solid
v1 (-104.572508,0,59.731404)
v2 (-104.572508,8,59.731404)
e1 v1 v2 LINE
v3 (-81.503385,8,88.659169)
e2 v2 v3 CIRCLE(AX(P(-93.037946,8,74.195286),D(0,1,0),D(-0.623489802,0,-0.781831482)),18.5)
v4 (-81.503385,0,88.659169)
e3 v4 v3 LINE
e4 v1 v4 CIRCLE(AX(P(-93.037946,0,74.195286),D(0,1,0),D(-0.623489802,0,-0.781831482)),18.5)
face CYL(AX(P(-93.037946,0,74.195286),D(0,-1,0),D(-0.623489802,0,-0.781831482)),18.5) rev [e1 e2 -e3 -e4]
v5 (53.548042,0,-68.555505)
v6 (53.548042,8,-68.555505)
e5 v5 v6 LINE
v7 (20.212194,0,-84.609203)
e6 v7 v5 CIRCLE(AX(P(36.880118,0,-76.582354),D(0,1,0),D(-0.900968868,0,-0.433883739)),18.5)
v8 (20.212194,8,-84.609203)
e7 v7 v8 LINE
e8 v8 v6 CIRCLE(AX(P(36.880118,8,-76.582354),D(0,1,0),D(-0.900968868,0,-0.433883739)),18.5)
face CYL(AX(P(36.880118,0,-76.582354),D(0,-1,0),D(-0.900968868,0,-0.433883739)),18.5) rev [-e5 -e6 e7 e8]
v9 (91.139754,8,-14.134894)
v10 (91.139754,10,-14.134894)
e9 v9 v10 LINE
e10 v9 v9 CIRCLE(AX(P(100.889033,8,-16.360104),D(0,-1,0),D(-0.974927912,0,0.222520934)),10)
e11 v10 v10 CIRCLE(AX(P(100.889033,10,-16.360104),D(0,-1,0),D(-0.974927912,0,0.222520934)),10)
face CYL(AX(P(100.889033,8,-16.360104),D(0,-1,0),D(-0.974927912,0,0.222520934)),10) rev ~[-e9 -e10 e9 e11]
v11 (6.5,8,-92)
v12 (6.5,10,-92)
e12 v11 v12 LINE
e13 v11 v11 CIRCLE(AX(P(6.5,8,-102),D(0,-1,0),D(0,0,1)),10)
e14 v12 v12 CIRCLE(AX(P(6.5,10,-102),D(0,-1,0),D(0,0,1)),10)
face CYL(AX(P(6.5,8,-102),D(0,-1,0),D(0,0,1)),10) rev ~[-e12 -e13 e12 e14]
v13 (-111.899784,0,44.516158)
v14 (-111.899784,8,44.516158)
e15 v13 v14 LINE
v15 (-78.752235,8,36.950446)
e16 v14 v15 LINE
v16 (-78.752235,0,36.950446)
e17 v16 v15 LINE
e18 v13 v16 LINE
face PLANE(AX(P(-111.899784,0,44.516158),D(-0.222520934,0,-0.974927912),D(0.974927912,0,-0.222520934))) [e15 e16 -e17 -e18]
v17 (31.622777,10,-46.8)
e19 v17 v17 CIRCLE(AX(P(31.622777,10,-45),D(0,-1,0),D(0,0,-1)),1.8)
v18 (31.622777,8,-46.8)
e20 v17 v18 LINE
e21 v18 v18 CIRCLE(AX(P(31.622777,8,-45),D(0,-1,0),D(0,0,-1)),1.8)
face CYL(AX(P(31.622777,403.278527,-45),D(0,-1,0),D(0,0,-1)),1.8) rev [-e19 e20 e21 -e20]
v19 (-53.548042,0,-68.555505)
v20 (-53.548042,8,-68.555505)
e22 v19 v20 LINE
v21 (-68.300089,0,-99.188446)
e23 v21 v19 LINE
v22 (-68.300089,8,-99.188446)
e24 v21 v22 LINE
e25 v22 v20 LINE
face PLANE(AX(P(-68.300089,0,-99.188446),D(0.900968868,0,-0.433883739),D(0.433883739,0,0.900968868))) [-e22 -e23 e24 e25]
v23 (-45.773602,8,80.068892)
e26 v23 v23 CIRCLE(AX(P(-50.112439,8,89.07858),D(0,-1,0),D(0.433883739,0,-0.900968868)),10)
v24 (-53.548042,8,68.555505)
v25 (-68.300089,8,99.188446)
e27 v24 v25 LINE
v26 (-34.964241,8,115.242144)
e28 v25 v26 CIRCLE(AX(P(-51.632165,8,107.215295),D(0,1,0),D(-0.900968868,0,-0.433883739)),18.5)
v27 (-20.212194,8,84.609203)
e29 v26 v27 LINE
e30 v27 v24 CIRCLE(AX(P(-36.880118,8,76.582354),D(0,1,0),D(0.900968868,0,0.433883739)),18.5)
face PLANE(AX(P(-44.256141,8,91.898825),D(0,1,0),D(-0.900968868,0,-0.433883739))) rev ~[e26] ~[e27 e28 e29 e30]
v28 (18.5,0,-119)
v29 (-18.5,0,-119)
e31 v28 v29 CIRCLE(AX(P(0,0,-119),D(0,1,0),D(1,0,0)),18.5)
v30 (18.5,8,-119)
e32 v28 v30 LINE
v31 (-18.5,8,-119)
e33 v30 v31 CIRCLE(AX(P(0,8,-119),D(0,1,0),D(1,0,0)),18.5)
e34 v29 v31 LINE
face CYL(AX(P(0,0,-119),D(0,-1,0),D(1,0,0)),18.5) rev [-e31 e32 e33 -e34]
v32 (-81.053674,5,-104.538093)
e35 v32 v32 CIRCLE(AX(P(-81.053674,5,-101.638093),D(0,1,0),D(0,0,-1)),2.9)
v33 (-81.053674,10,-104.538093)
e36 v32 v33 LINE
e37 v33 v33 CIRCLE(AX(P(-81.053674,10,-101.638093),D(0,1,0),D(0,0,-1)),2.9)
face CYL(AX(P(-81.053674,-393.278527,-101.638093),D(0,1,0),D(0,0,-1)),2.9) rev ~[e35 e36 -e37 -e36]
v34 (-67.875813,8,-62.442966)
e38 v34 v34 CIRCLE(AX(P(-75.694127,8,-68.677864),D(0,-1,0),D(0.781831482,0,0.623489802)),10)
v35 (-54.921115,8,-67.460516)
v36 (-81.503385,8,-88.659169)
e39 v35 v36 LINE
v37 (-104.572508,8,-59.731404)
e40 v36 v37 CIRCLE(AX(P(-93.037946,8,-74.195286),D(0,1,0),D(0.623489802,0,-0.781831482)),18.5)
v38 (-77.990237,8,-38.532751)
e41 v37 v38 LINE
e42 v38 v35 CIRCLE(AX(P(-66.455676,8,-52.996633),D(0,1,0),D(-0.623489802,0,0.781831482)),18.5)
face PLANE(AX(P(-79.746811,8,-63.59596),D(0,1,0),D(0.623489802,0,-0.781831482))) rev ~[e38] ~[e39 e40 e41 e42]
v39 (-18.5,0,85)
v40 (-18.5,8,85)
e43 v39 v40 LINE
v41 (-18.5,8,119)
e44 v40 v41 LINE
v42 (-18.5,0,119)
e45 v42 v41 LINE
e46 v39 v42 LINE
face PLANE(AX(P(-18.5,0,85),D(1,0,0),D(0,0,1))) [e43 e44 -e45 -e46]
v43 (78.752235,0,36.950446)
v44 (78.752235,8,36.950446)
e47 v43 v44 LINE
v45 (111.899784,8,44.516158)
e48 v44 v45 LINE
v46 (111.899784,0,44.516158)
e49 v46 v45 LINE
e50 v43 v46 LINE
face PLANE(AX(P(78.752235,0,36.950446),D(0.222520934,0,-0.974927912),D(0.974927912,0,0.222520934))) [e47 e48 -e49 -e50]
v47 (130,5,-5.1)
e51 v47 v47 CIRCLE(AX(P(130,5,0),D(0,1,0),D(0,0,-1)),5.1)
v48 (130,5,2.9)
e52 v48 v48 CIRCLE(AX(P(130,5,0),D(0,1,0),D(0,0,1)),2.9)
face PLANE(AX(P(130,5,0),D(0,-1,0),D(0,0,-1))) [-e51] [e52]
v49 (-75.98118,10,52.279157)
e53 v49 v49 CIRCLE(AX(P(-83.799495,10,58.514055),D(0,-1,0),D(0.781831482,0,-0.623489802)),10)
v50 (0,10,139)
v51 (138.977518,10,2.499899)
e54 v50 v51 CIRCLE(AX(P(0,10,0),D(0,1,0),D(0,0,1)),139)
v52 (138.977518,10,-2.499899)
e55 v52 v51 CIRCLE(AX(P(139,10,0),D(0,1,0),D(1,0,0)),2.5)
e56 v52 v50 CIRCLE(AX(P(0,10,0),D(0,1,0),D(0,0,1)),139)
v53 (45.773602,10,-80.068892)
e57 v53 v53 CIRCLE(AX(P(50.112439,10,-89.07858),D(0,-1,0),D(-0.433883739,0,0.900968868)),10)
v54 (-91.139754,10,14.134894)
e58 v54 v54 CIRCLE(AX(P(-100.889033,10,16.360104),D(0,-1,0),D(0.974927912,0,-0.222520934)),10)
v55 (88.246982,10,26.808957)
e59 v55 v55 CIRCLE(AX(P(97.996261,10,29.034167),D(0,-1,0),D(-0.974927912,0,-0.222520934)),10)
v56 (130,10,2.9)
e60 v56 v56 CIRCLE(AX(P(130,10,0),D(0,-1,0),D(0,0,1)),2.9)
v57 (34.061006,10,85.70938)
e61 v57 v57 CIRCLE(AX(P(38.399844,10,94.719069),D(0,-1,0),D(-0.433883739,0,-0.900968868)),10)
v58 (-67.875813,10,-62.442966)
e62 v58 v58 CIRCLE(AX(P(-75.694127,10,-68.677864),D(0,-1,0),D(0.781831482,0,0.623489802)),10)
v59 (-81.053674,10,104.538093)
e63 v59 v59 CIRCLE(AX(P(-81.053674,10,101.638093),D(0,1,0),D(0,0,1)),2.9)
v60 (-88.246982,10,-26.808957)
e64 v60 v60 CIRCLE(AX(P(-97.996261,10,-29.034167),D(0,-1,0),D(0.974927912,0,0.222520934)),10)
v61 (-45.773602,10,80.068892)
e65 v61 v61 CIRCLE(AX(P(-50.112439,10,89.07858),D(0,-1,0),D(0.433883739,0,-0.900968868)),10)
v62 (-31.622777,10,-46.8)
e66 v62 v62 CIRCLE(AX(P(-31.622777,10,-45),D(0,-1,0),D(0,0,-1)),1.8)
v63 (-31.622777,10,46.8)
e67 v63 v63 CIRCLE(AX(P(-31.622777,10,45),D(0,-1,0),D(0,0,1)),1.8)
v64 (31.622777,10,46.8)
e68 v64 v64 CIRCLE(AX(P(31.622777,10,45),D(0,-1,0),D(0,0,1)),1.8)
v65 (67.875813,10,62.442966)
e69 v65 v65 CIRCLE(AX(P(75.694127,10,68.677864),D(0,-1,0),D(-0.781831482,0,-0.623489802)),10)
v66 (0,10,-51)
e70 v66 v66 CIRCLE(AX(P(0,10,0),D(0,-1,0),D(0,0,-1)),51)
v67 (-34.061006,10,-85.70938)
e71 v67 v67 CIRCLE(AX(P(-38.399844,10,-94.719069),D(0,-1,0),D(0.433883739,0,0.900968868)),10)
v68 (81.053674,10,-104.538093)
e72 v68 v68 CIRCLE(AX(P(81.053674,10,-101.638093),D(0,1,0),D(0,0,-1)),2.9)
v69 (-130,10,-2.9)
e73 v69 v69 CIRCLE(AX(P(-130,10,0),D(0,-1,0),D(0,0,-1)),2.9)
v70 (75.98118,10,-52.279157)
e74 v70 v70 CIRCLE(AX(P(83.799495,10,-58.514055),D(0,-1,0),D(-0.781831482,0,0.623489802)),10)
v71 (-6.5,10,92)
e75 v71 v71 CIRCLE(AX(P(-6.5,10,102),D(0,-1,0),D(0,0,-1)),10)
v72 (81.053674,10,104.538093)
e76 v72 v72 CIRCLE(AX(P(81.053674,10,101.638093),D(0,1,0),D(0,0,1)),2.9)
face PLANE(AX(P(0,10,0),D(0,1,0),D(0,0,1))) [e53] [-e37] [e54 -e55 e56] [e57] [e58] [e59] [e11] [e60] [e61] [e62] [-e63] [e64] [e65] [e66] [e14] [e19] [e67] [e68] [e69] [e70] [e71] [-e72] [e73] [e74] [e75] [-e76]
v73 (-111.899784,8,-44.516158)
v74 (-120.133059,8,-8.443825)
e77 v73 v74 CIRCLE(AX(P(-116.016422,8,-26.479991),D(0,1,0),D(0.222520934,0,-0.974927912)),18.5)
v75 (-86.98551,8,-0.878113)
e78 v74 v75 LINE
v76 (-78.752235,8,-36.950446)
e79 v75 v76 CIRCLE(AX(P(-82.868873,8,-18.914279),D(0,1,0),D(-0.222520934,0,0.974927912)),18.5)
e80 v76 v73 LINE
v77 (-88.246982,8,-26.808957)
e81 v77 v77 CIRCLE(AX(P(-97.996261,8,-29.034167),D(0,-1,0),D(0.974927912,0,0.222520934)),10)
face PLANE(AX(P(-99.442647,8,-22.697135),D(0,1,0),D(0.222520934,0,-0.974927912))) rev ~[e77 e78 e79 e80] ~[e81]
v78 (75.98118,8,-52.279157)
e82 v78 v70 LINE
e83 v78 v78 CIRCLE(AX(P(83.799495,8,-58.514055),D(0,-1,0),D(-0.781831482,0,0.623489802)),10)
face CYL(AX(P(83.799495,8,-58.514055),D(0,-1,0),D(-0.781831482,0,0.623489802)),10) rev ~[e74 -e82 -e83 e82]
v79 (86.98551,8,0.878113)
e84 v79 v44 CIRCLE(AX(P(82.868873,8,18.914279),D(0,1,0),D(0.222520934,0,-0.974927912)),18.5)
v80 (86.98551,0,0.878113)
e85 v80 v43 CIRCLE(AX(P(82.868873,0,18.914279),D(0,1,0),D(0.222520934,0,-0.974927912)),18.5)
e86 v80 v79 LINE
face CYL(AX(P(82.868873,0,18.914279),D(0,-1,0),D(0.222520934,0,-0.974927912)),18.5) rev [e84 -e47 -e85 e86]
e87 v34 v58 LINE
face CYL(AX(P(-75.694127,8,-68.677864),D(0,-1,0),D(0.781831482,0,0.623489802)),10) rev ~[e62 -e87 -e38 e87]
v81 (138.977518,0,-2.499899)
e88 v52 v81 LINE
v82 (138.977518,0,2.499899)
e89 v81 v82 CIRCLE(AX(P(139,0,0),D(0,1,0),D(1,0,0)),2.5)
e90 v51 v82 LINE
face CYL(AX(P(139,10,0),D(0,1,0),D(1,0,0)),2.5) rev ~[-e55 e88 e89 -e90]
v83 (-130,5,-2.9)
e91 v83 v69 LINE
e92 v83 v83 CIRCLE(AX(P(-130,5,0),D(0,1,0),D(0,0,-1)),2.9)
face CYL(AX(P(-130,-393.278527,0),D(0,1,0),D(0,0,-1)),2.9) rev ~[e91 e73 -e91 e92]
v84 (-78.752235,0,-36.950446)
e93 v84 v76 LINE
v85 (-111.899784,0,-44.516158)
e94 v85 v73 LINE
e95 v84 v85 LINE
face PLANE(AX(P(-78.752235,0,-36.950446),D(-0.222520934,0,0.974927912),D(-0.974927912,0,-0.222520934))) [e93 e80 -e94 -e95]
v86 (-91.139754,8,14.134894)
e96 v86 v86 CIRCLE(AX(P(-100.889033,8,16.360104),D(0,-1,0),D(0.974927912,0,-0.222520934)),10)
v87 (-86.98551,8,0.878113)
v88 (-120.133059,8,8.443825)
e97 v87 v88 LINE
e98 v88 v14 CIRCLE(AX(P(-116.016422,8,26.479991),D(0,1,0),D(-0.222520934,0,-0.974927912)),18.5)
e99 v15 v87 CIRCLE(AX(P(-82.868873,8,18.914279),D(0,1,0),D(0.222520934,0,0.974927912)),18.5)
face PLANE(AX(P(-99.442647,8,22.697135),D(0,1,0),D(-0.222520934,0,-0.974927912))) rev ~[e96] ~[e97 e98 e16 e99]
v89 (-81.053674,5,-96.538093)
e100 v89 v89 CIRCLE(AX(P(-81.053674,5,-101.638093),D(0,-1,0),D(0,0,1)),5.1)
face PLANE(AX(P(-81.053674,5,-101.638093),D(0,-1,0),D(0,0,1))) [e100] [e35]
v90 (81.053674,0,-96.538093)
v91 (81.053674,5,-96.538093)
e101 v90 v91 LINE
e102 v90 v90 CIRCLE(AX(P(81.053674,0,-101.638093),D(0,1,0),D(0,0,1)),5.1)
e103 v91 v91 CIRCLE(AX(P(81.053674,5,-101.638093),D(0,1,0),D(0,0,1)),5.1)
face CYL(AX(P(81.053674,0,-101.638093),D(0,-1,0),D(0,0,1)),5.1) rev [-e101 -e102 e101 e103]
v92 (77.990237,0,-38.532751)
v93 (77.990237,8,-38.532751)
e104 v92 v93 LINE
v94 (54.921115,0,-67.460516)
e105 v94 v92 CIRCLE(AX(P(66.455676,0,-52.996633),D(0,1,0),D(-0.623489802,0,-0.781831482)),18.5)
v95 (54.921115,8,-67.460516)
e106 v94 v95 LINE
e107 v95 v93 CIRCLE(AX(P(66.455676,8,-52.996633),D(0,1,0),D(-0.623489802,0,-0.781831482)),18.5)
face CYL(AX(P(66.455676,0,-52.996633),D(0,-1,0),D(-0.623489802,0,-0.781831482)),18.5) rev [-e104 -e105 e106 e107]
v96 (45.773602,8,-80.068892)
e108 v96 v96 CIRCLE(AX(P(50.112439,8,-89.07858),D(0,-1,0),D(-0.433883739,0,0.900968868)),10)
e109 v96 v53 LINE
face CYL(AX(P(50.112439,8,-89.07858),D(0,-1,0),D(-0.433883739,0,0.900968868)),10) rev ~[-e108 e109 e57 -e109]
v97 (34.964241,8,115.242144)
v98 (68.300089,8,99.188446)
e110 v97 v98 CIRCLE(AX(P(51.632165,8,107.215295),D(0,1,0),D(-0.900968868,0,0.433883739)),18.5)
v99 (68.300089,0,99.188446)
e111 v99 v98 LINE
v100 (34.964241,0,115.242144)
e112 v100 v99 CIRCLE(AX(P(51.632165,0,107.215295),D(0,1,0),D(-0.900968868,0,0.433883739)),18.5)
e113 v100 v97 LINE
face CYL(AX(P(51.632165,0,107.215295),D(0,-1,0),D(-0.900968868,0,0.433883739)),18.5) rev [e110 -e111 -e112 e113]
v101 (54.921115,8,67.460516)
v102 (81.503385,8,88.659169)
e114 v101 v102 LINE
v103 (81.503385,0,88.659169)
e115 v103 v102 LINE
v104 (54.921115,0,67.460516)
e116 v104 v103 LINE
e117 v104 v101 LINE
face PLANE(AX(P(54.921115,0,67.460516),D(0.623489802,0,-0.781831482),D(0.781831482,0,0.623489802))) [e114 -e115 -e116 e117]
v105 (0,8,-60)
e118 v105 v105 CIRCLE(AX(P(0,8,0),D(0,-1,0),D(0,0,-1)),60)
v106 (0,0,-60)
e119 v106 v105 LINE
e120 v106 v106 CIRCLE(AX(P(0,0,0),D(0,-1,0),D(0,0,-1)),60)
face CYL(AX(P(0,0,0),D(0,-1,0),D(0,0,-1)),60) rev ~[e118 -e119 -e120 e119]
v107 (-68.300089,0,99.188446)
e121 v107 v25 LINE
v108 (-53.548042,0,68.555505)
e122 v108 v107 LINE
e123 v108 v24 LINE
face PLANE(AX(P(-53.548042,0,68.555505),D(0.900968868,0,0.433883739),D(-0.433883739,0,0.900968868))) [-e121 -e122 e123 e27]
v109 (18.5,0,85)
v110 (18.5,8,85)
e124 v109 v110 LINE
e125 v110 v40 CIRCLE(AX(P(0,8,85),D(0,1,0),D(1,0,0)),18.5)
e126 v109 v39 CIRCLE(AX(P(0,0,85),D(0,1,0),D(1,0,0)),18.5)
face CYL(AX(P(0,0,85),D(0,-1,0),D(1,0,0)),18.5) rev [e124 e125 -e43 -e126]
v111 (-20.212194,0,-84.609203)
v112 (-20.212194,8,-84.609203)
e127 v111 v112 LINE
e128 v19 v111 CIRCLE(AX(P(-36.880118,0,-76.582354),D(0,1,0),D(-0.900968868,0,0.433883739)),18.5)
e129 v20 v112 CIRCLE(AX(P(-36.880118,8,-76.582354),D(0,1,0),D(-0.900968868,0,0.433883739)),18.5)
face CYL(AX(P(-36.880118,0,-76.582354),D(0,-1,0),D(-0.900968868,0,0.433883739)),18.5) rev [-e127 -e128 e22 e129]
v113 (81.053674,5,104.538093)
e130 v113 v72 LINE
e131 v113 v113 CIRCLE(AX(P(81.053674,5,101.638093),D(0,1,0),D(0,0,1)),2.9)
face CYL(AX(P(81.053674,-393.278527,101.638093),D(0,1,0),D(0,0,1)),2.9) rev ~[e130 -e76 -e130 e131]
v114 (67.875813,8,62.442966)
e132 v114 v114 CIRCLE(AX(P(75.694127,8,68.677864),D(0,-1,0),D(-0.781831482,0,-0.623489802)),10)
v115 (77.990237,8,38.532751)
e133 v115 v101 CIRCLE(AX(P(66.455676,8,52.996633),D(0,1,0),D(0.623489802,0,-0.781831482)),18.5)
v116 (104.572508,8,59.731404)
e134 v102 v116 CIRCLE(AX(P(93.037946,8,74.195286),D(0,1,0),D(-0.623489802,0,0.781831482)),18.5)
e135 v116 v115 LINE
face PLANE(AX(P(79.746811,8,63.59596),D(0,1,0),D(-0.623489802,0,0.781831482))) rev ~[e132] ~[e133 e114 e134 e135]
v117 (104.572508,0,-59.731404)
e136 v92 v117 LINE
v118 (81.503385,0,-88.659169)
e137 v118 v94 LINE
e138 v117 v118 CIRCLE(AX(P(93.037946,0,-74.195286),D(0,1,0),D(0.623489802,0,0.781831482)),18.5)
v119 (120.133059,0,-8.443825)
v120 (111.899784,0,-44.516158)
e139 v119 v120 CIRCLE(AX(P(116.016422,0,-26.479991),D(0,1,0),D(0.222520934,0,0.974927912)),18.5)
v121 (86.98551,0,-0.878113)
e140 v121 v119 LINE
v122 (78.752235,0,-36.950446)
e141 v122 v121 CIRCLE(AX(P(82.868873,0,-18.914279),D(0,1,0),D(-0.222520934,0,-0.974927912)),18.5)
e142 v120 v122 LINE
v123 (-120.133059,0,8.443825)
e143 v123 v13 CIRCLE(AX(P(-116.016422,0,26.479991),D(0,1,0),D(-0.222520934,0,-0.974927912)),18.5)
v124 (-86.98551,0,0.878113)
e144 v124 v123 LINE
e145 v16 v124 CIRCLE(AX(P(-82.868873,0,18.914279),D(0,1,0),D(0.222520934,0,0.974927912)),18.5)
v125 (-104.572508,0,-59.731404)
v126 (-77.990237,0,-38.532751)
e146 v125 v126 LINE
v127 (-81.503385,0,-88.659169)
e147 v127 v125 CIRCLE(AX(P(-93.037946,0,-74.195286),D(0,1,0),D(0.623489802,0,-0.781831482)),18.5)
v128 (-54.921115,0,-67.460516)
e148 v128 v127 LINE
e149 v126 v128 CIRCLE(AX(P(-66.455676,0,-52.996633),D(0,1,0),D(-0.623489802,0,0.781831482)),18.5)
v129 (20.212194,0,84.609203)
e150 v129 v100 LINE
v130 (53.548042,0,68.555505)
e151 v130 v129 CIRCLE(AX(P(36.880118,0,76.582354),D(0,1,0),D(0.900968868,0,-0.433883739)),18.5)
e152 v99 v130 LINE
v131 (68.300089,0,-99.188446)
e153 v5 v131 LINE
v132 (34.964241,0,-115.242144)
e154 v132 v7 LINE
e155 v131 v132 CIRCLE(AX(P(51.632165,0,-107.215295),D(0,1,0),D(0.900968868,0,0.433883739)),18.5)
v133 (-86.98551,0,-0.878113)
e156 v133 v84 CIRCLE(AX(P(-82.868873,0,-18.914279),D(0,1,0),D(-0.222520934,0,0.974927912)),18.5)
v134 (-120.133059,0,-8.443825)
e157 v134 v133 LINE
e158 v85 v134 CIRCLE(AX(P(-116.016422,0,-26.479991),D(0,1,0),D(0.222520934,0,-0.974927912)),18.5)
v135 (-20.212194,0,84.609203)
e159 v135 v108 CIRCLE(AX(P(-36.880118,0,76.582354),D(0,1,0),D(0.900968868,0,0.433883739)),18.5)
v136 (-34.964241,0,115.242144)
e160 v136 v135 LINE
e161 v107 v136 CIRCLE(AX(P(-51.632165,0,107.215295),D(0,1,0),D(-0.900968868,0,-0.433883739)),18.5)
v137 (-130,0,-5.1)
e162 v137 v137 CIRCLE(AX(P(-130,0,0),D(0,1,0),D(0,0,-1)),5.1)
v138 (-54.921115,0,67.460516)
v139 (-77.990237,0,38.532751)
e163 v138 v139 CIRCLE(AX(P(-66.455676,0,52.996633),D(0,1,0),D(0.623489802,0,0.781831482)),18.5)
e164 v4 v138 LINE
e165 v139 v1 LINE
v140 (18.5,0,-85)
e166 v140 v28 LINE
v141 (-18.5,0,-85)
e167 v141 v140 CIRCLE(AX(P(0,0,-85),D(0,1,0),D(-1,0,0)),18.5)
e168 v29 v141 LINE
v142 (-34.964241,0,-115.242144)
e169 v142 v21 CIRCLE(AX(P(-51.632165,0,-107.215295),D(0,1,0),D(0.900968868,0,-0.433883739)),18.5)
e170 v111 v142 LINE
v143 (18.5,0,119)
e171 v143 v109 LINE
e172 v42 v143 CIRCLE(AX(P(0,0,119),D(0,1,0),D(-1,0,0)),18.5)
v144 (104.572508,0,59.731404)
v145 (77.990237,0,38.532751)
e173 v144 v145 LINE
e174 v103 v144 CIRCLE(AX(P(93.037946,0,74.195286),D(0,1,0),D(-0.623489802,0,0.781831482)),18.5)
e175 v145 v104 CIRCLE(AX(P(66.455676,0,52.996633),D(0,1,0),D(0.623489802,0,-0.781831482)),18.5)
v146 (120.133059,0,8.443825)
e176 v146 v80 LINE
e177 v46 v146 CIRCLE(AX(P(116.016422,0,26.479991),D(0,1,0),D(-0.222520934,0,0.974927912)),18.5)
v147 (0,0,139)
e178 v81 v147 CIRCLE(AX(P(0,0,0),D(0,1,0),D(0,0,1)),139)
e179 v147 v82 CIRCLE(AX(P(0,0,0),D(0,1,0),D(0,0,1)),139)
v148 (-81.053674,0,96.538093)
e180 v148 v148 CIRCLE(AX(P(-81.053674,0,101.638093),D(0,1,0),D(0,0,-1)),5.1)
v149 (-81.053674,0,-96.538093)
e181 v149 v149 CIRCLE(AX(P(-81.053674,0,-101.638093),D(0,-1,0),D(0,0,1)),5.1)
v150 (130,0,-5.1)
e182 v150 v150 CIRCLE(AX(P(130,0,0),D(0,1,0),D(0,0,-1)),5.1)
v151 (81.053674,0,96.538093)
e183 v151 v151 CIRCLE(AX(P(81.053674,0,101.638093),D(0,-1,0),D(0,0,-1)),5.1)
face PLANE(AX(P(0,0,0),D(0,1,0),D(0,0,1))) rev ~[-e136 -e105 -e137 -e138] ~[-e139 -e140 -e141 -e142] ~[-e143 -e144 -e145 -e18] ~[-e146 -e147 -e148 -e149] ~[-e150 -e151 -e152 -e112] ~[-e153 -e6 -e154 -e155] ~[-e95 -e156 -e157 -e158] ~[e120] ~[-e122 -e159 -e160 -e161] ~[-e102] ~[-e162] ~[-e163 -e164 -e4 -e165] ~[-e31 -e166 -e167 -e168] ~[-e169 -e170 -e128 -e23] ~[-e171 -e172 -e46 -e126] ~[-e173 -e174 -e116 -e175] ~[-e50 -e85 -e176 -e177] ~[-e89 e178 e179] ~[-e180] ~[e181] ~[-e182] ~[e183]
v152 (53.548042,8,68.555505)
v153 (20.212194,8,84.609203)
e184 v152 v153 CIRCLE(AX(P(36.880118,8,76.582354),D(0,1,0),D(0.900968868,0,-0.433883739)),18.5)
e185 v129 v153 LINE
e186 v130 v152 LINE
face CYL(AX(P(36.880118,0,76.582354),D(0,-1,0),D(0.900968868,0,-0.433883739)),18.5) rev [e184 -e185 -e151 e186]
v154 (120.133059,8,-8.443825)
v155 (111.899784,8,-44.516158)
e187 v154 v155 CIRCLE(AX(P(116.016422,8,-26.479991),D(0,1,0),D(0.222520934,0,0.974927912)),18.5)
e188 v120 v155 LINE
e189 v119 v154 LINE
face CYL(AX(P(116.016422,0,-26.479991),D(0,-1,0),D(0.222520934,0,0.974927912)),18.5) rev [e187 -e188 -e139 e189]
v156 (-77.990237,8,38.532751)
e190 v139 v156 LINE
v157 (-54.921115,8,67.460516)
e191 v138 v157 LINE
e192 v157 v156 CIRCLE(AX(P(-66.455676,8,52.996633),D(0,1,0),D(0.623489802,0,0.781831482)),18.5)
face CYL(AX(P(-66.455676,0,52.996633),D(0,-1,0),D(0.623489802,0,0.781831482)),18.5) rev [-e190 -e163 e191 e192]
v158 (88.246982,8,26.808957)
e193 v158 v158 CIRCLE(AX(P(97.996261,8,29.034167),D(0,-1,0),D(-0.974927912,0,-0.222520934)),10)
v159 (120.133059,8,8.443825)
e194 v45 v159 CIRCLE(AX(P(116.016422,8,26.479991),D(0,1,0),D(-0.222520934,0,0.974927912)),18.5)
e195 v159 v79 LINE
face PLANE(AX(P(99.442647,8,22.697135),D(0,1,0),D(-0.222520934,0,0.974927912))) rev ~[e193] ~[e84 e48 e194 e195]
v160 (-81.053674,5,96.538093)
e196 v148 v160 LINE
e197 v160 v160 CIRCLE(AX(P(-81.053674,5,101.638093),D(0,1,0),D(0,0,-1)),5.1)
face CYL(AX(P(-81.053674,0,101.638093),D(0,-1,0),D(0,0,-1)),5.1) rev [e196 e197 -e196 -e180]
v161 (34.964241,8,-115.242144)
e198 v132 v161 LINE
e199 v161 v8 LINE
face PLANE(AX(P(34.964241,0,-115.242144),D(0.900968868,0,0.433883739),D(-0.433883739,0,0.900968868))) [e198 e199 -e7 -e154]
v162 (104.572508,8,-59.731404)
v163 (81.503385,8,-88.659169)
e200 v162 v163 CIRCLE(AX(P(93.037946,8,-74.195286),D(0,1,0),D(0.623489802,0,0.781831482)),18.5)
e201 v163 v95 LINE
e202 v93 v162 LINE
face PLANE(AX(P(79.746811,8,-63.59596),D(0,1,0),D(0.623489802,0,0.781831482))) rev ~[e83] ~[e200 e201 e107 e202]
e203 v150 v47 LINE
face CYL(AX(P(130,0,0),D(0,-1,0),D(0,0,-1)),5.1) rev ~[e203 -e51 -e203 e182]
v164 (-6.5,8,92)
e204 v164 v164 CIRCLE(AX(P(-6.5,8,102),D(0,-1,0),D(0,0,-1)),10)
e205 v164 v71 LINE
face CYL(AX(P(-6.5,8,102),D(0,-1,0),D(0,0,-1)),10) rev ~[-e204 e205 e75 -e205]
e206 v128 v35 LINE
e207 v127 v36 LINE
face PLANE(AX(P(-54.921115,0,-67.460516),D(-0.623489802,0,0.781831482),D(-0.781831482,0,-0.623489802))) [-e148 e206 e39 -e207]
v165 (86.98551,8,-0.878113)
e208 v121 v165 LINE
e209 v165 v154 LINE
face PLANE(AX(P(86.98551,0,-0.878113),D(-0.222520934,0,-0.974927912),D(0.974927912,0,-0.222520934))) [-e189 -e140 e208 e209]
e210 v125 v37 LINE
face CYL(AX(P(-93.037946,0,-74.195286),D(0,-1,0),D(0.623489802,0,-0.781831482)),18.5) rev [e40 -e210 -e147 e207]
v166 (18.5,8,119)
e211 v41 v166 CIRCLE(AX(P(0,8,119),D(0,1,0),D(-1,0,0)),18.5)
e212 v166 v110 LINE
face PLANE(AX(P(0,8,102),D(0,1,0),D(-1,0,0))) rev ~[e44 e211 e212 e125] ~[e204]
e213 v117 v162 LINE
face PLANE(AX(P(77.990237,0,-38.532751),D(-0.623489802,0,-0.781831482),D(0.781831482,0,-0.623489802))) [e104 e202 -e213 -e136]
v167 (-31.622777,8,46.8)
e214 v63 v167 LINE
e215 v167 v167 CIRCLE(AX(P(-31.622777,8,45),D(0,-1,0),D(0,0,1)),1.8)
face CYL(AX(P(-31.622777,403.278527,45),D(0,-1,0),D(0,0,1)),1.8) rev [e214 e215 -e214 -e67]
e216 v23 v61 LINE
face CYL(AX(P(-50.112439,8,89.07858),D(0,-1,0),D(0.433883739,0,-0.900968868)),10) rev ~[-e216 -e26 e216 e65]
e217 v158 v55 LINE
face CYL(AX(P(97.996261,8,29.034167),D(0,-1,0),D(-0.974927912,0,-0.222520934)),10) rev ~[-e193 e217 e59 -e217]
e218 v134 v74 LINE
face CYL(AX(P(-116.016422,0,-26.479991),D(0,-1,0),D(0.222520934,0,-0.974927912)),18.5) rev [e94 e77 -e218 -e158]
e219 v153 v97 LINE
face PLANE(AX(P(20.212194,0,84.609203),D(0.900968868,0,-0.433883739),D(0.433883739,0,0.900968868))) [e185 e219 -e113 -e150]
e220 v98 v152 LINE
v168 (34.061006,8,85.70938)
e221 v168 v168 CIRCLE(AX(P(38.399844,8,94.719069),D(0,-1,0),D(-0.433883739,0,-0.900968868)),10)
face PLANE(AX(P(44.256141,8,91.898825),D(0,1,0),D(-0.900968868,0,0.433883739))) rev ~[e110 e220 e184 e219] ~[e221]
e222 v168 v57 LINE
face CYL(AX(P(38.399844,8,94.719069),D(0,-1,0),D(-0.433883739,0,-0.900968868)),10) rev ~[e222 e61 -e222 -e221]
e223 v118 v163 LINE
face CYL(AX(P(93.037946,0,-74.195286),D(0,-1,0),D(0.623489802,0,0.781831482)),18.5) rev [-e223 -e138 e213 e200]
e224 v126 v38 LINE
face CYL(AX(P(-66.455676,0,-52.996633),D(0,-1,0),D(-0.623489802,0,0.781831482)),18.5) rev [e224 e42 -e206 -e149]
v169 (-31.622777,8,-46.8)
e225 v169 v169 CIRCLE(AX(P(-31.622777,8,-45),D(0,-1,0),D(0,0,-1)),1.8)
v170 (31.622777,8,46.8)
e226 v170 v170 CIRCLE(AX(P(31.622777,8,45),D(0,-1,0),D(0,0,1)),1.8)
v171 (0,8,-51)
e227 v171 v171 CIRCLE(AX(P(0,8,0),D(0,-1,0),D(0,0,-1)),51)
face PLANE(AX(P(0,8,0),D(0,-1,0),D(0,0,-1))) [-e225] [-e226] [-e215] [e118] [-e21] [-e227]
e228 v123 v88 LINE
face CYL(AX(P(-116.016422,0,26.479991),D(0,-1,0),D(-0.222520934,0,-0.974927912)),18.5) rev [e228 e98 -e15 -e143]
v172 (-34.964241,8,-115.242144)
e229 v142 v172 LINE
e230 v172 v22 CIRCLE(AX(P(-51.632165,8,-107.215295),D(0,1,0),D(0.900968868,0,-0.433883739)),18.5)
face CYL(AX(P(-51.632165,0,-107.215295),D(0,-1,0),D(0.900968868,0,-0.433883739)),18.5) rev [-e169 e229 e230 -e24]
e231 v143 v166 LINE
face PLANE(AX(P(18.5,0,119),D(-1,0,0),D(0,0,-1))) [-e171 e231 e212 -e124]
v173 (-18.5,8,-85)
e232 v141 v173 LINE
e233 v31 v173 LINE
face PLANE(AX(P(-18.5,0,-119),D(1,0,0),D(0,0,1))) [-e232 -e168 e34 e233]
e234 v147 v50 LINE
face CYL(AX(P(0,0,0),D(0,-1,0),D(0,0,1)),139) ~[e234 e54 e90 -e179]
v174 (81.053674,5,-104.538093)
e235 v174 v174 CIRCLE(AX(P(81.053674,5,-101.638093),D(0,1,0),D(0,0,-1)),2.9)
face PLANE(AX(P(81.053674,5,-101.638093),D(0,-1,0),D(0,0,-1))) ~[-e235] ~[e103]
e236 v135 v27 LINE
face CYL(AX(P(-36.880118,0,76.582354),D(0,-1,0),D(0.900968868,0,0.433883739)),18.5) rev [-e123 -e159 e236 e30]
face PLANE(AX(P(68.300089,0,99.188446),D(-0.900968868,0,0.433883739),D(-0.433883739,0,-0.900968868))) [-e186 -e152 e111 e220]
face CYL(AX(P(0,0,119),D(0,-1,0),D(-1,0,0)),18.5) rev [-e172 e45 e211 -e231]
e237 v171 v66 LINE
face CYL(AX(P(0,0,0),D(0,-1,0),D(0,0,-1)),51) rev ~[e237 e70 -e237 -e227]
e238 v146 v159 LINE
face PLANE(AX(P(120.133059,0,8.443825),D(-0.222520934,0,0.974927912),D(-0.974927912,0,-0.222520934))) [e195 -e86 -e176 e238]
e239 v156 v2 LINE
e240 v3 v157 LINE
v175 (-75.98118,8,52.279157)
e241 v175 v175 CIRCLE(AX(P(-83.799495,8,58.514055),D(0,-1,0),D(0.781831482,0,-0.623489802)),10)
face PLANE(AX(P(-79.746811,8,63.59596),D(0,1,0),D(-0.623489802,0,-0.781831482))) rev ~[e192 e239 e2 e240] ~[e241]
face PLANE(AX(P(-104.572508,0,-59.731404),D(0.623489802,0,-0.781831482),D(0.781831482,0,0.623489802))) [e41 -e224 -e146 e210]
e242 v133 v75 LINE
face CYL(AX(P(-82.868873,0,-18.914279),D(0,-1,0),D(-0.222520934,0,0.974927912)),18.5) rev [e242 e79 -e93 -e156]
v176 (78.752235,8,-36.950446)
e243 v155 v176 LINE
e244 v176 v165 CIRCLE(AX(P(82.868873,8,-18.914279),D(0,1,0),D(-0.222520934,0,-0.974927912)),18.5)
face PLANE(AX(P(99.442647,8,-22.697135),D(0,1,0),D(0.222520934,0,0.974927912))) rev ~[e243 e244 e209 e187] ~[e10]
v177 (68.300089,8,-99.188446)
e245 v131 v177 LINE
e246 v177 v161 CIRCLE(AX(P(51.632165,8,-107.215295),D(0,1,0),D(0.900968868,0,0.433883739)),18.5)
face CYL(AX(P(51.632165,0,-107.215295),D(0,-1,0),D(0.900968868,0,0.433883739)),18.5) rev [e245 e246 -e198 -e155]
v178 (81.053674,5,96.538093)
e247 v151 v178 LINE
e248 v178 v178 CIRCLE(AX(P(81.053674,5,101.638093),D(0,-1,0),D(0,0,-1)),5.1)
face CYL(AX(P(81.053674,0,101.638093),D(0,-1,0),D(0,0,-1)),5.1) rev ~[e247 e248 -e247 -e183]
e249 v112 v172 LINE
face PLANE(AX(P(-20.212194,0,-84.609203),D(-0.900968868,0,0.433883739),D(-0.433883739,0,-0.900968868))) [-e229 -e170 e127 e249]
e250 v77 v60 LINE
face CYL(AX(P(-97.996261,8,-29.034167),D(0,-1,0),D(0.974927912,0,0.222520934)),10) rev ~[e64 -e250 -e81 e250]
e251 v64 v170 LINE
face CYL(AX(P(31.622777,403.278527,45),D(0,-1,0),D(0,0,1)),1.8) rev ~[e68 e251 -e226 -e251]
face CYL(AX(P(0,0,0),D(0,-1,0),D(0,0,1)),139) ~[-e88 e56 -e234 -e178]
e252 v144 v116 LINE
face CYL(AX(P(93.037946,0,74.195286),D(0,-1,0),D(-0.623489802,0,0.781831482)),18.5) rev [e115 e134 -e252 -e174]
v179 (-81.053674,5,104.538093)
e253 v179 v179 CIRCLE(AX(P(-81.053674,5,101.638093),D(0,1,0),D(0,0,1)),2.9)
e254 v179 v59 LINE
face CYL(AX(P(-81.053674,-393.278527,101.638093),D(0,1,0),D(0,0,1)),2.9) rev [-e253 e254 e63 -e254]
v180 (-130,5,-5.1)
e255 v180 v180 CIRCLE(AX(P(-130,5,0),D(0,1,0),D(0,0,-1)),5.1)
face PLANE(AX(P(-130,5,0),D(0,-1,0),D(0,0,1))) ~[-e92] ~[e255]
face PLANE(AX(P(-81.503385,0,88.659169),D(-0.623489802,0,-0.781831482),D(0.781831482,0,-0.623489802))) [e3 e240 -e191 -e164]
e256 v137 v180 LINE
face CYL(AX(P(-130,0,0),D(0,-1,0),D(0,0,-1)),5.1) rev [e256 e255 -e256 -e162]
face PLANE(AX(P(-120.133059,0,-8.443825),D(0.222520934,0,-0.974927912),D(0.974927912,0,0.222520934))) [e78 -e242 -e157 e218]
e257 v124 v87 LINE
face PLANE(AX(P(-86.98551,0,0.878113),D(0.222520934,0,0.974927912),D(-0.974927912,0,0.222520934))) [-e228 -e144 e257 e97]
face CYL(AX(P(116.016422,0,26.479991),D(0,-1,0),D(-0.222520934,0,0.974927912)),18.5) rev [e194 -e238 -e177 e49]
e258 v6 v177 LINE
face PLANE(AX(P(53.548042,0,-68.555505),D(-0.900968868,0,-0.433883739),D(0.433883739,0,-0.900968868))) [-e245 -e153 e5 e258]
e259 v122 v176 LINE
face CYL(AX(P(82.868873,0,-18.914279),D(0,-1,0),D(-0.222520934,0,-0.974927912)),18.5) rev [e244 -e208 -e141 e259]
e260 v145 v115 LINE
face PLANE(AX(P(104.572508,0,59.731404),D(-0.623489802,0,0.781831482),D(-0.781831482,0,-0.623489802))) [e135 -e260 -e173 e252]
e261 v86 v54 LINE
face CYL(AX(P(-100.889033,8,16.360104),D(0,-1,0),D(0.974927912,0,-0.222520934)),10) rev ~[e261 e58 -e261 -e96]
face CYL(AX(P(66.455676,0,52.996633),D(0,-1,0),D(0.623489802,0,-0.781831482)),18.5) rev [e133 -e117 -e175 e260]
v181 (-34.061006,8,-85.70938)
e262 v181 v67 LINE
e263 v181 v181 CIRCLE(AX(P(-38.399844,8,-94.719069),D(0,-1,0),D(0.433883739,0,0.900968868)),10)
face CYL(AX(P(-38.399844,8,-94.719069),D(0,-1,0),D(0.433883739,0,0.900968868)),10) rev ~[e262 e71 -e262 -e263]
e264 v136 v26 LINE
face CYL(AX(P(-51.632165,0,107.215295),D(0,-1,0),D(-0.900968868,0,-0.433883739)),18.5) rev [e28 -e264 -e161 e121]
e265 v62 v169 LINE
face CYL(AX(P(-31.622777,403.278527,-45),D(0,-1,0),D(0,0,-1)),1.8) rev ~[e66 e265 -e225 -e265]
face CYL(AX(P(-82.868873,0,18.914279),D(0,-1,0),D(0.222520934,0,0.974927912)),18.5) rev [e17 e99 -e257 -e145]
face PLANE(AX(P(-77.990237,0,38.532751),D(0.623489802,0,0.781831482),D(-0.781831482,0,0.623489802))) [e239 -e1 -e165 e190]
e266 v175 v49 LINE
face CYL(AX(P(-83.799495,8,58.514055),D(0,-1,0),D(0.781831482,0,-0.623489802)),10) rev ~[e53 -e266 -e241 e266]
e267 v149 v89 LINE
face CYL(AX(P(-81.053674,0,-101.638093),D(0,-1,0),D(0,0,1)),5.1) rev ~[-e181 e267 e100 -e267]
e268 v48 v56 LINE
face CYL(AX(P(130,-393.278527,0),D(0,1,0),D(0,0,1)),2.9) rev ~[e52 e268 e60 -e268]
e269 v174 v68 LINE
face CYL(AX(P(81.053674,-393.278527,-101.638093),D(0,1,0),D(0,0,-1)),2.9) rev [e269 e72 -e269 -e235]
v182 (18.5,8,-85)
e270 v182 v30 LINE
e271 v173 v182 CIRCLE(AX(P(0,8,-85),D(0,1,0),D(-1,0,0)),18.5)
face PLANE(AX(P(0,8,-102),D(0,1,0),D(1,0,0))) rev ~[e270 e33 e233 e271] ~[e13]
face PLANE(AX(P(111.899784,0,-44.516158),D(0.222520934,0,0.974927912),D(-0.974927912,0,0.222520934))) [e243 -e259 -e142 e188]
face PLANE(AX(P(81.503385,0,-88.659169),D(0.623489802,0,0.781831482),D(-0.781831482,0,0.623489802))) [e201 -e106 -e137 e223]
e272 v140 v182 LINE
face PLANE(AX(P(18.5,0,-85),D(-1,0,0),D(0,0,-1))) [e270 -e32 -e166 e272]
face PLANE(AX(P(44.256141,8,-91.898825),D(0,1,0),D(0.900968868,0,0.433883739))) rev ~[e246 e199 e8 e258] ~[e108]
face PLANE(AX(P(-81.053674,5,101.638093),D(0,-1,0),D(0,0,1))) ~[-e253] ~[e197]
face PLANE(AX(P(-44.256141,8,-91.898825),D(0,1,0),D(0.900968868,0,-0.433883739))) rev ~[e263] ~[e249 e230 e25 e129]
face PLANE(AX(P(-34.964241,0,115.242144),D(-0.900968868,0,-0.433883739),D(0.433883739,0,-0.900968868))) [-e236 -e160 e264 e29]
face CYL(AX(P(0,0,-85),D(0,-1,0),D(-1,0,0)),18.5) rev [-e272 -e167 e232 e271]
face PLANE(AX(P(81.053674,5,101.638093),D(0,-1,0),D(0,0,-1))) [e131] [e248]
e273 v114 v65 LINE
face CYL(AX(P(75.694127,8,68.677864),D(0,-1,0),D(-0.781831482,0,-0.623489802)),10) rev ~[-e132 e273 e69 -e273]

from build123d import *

# Parameters (mm, degrees)
SKETCH_1_R               = 139
EXTRUDE_1_DEPTH          = 10
CUT_EXTRUDE_578_DEPTH    = 8
PATTERN_CIRCULAR_1_COUNT = 14
SKETCH_3_R               = 51
CUT_EXTRUDE_927_DEPTH    = 197.829875781
SKETCH_5_R               = 10
CUT_EXTRUDE_1077_DEPTH   = 197.738404995
PATTERN_CIRCULAR_2_COUNT = 14
HOLE_WIZARD_M3_D         = 3.6
MIRROR_2_COPY_1_D        = 3.6
M5SUPPORTINGPOLE_D       = 5.8
M5_SUPPORTING_POLE_D     = 5.8
MIRROR_4_COPY_1_D        = 5.8
MIRROR_4_COPY_2_D        = 5.8
MIRROR_4_COPY_3_D        = 5.8
SKETCH_15_R              = 5.1
CUT_EXTRUDE_7_DEPTH      = 5
MIRROR_6_COPY_1_SKETCH_R = 5.1
MIRROR_6_COPY_1_DEPTH    = 5
SKETCH_16_R              = 60
SKETCH_16_R_2            = 51
CUT_EXTRUDE_8_DEPTH      = 8
SKETCH_18_R              = 2.5
CUT_EXTRUDE_10_DEPTH     = 197.829875781


with BuildPart() as part:
    # ｽｹｯﾁ1 → ﾎﾞｽ - 押し出し1 (new body)
    with BuildSketch(Plane(origin=(0, 0, 0), x_dir=(1, 0, 0), z_dir=(0, 1, 0))):
        with Locations(Location((0, 0, 0), (0, 0, 270))):
            Circle(SKETCH_1_R)
    extrude(amount=EXTRUDE_1_DEPTH)

    # ｽｹｯﾁ2 → Cut-Extrude 578 (cut)
    with BuildSketch(Plane.XZ):
        with BuildLine():
            Line((18.5, 119), (18.5, 85))
            ThreePointArc((18.5, 85), (0, 66.5), (-18.5, 85))
            Line((-18.5, 85), (-18.5, 119))
            ThreePointArc((-18.5, 119), (0, 137.5), (18.5, 119))
        make_face()
    cut_extrude_578 = extrude(amount=-CUT_EXTRUDE_578_DEPTH, mode=Mode.SUBTRACT)

    # 円形ﾊﾟﾀｰﾝ1: Cut-Extrude 578 ×14 about axis
    pattern_circular_1_axis = Axis((0, 0, 0), (0, 1, 0))
    for i in range(1, PATTERN_CIRCULAR_1_COUNT):
        add(cut_extrude_578.rotate(pattern_circular_1_axis, i * 360 / PATTERN_CIRCULAR_1_COUNT), mode=Mode.SUBTRACT)

    # ｽｹｯﾁ3 → Cut-Extrude 927 (cut, through all)
    with BuildSketch(Plane(origin=(0, 0, 0), x_dir=(-1, 0, 0), z_dir=(0, -1, 0))):
        with Locations(Location((0, 0, 0), (0, 0, 90))):
            Circle(SKETCH_3_R)
    extrude(amount=-CUT_EXTRUDE_927_DEPTH, mode=Mode.SUBTRACT)

    # ｽｹｯﾁ5 → Cut-Extrude 1077 (cut, through all)
    with BuildSketch(Plane.XZ.offset(-8)):
        with Locations(Location((-6.5, 102, 0), (0, 0, 270))):
            Circle(SKETCH_5_R)
    cut_extrude_1077 = extrude(amount=-CUT_EXTRUDE_1077_DEPTH, mode=Mode.SUBTRACT)

    # 円形ﾊﾟﾀｰﾝ2: Cut-Extrude 1077 ×14 about axis
    pattern_circular_2_axis = Axis((0, 0, 0), (0, 1, 0))
    for i in range(1, PATTERN_CIRCULAR_2_COUNT):
        add(cut_extrude_1077.rotate(pattern_circular_2_axis, i * 360 / PATTERN_CIRCULAR_2_COUNT), mode=Mode.SUBTRACT)

    # M3(六角スペーサ) キールへの固定穴 (through all)
    with Locations(Plane(origin=(-31.622776602, 10, -45), x_dir=(0, 0, 1), z_dir=(0, 1, 0))):
        with Locations((0, 0)):
            hole_wizard_m3 = Hole(HOLE_WIZARD_M3_D / 2)

    # ﾐﾗｰ1: M3(六角スペーサ) キールへの固定穴 across plane
    add(hole_wizard_m3.mirror(Plane.XY), mode=Mode.SUBTRACT)

    # ﾐﾗｰ2: M3(六角スペーサ) キールへの固定穴 across plane
    add(hole_wizard_m3.mirror(Plane(origin=(0, 0, 0), x_dir=(0, 0, 1), z_dir=(1, 0, 0))), mode=Mode.SUBTRACT)

    # ﾐﾗｰ2 copy 1 (through all)
    with Locations(Plane(origin=(31.622776602, 10, 45), x_dir=(0, 0, -1), z_dir=(0, 1, 0))):
        with Locations((0, 0)):
            Hole(MIRROR_2_COPY_1_D / 2)

    # M5supportingpole用 (through all)
    with Locations(Plane(origin=(130, 0, 0), x_dir=(0, 0, -1), z_dir=(0, -1, 0))):
        with Locations((0, 0)):
            m5supportingpole = Hole(M5SUPPORTINGPOLE_D / 2)

    # M5 supporting_pole用 (through all)
    with Locations(Plane(origin=(81.053674242, 0, 101.638092721), x_dir=(0, 0, -1), z_dir=(0, -1, 0))):
        with Locations((0, 0)):
            m5_supporting_pole = Hole(M5_SUPPORTING_POLE_D / 2)

    # ﾐﾗｰ3: M5supportingpole用, M5 supporting_pole用 across plane
    add(m5supportingpole.mirror(Plane.XY), mode=Mode.SUBTRACT)
    add(m5_supporting_pole.mirror(Plane.XY), mode=Mode.SUBTRACT)

    # ﾐﾗｰ4: M5 supporting_pole用 across plane
    add(m5_supporting_pole.mirror(Plane(origin=(0, 0, 0), x_dir=(0, 0, 1), z_dir=(1, 0, 0))), mode=Mode.SUBTRACT)

    # ﾐﾗｰ4 copy 1 (through all)
    with Locations(Plane(origin=(-130, 0, 0), x_dir=(0, 0, 1), z_dir=(0, -1, 0))):
        with Locations((0, 0)):
            Hole(MIRROR_4_COPY_1_D / 2)

    # ﾐﾗｰ4 copy 2 (through all)
    with Locations(Plane(origin=(-81.053674242, 0, -101.638092721), x_dir=(0, 0, 1), z_dir=(0, -1, 0))):
        with Locations((0, 0)):
            Hole(MIRROR_4_COPY_2_D / 2)

    # ﾐﾗｰ4 copy 3 (through all)
    with Locations(Plane(origin=(-130, 0, 0), x_dir=(0, 0, -1), z_dir=(0, -1, 0))):
        with Locations((0, 0)):
            Hole(MIRROR_4_COPY_3_D / 2)

    # ｽｹｯﾁ15 → ｶｯﾄ - 押し出し7 (cut)
    with BuildSketch(Plane.XZ):
        with Locations(Location((81.053674242, 101.638092721, 0), (0, 0, 270))):
            Circle(SKETCH_15_R)
        with Locations(Location((130, 0, 0), (0, 0, 270))):
            Circle(SKETCH_15_R)
    cut_extrude_7 = extrude(amount=-CUT_EXTRUDE_7_DEPTH, mode=Mode.SUBTRACT)

    # ﾐﾗｰ5: ｶｯﾄ - 押し出し7 across plane
    add(cut_extrude_7.mirror(Plane.XY), mode=Mode.SUBTRACT)

    # ﾐﾗｰ6: ｶｯﾄ - 押し出し7 across plane
    add(cut_extrude_7.mirror(Plane(origin=(0, 0, 0), x_dir=(0, 0, 1), z_dir=(1, 0, 0))), mode=Mode.SUBTRACT)

    # ﾐﾗｰ6 copy 1 sketch → ﾐﾗｰ6 copy 1 (cut)
    with BuildSketch(Plane(origin=(0, 0, 0), x_dir=(-1, 0, 0), z_dir=(0, -1, 0))):
        with Locations(Location((81.053674242, 101.638092721, 0), (0, 0, 270))):
            Circle(MIRROR_6_COPY_1_SKETCH_R)
        with Locations(Location((130, 0, 0), (0, 0, 270))):
            Circle(MIRROR_6_COPY_1_SKETCH_R)
    extrude(amount=-MIRROR_6_COPY_1_DEPTH, mode=Mode.SUBTRACT)

    # ｽｹｯﾁ16 → ｶｯﾄ - 押し出し8 (cut)
    with BuildSketch(Plane.XZ):
        with Locations(Location((0, 0, 0), (0, 0, 270))):
            Circle(SKETCH_16_R)
        with Locations(Location((0, 0, 0), (0, 0, 270))):
            Circle(SKETCH_16_R_2, mode=Mode.SUBTRACT)
    extrude(amount=-CUT_EXTRUDE_8_DEPTH, mode=Mode.SUBTRACT)

    # ｽｹｯﾁ18 → ｶｯﾄ - 押し出し10 (cut, through all)
    with BuildSketch(Plane(origin=(0, 10, 0), x_dir=(1, 0, 0), z_dir=(0, 1, 0))):
        with Locations((139, 0)):
            Circle(SKETCH_18_R)
    extrude(amount=-CUT_EXTRUDE_10_DEPTH, mode=Mode.SUBTRACT)


solid = part.part
